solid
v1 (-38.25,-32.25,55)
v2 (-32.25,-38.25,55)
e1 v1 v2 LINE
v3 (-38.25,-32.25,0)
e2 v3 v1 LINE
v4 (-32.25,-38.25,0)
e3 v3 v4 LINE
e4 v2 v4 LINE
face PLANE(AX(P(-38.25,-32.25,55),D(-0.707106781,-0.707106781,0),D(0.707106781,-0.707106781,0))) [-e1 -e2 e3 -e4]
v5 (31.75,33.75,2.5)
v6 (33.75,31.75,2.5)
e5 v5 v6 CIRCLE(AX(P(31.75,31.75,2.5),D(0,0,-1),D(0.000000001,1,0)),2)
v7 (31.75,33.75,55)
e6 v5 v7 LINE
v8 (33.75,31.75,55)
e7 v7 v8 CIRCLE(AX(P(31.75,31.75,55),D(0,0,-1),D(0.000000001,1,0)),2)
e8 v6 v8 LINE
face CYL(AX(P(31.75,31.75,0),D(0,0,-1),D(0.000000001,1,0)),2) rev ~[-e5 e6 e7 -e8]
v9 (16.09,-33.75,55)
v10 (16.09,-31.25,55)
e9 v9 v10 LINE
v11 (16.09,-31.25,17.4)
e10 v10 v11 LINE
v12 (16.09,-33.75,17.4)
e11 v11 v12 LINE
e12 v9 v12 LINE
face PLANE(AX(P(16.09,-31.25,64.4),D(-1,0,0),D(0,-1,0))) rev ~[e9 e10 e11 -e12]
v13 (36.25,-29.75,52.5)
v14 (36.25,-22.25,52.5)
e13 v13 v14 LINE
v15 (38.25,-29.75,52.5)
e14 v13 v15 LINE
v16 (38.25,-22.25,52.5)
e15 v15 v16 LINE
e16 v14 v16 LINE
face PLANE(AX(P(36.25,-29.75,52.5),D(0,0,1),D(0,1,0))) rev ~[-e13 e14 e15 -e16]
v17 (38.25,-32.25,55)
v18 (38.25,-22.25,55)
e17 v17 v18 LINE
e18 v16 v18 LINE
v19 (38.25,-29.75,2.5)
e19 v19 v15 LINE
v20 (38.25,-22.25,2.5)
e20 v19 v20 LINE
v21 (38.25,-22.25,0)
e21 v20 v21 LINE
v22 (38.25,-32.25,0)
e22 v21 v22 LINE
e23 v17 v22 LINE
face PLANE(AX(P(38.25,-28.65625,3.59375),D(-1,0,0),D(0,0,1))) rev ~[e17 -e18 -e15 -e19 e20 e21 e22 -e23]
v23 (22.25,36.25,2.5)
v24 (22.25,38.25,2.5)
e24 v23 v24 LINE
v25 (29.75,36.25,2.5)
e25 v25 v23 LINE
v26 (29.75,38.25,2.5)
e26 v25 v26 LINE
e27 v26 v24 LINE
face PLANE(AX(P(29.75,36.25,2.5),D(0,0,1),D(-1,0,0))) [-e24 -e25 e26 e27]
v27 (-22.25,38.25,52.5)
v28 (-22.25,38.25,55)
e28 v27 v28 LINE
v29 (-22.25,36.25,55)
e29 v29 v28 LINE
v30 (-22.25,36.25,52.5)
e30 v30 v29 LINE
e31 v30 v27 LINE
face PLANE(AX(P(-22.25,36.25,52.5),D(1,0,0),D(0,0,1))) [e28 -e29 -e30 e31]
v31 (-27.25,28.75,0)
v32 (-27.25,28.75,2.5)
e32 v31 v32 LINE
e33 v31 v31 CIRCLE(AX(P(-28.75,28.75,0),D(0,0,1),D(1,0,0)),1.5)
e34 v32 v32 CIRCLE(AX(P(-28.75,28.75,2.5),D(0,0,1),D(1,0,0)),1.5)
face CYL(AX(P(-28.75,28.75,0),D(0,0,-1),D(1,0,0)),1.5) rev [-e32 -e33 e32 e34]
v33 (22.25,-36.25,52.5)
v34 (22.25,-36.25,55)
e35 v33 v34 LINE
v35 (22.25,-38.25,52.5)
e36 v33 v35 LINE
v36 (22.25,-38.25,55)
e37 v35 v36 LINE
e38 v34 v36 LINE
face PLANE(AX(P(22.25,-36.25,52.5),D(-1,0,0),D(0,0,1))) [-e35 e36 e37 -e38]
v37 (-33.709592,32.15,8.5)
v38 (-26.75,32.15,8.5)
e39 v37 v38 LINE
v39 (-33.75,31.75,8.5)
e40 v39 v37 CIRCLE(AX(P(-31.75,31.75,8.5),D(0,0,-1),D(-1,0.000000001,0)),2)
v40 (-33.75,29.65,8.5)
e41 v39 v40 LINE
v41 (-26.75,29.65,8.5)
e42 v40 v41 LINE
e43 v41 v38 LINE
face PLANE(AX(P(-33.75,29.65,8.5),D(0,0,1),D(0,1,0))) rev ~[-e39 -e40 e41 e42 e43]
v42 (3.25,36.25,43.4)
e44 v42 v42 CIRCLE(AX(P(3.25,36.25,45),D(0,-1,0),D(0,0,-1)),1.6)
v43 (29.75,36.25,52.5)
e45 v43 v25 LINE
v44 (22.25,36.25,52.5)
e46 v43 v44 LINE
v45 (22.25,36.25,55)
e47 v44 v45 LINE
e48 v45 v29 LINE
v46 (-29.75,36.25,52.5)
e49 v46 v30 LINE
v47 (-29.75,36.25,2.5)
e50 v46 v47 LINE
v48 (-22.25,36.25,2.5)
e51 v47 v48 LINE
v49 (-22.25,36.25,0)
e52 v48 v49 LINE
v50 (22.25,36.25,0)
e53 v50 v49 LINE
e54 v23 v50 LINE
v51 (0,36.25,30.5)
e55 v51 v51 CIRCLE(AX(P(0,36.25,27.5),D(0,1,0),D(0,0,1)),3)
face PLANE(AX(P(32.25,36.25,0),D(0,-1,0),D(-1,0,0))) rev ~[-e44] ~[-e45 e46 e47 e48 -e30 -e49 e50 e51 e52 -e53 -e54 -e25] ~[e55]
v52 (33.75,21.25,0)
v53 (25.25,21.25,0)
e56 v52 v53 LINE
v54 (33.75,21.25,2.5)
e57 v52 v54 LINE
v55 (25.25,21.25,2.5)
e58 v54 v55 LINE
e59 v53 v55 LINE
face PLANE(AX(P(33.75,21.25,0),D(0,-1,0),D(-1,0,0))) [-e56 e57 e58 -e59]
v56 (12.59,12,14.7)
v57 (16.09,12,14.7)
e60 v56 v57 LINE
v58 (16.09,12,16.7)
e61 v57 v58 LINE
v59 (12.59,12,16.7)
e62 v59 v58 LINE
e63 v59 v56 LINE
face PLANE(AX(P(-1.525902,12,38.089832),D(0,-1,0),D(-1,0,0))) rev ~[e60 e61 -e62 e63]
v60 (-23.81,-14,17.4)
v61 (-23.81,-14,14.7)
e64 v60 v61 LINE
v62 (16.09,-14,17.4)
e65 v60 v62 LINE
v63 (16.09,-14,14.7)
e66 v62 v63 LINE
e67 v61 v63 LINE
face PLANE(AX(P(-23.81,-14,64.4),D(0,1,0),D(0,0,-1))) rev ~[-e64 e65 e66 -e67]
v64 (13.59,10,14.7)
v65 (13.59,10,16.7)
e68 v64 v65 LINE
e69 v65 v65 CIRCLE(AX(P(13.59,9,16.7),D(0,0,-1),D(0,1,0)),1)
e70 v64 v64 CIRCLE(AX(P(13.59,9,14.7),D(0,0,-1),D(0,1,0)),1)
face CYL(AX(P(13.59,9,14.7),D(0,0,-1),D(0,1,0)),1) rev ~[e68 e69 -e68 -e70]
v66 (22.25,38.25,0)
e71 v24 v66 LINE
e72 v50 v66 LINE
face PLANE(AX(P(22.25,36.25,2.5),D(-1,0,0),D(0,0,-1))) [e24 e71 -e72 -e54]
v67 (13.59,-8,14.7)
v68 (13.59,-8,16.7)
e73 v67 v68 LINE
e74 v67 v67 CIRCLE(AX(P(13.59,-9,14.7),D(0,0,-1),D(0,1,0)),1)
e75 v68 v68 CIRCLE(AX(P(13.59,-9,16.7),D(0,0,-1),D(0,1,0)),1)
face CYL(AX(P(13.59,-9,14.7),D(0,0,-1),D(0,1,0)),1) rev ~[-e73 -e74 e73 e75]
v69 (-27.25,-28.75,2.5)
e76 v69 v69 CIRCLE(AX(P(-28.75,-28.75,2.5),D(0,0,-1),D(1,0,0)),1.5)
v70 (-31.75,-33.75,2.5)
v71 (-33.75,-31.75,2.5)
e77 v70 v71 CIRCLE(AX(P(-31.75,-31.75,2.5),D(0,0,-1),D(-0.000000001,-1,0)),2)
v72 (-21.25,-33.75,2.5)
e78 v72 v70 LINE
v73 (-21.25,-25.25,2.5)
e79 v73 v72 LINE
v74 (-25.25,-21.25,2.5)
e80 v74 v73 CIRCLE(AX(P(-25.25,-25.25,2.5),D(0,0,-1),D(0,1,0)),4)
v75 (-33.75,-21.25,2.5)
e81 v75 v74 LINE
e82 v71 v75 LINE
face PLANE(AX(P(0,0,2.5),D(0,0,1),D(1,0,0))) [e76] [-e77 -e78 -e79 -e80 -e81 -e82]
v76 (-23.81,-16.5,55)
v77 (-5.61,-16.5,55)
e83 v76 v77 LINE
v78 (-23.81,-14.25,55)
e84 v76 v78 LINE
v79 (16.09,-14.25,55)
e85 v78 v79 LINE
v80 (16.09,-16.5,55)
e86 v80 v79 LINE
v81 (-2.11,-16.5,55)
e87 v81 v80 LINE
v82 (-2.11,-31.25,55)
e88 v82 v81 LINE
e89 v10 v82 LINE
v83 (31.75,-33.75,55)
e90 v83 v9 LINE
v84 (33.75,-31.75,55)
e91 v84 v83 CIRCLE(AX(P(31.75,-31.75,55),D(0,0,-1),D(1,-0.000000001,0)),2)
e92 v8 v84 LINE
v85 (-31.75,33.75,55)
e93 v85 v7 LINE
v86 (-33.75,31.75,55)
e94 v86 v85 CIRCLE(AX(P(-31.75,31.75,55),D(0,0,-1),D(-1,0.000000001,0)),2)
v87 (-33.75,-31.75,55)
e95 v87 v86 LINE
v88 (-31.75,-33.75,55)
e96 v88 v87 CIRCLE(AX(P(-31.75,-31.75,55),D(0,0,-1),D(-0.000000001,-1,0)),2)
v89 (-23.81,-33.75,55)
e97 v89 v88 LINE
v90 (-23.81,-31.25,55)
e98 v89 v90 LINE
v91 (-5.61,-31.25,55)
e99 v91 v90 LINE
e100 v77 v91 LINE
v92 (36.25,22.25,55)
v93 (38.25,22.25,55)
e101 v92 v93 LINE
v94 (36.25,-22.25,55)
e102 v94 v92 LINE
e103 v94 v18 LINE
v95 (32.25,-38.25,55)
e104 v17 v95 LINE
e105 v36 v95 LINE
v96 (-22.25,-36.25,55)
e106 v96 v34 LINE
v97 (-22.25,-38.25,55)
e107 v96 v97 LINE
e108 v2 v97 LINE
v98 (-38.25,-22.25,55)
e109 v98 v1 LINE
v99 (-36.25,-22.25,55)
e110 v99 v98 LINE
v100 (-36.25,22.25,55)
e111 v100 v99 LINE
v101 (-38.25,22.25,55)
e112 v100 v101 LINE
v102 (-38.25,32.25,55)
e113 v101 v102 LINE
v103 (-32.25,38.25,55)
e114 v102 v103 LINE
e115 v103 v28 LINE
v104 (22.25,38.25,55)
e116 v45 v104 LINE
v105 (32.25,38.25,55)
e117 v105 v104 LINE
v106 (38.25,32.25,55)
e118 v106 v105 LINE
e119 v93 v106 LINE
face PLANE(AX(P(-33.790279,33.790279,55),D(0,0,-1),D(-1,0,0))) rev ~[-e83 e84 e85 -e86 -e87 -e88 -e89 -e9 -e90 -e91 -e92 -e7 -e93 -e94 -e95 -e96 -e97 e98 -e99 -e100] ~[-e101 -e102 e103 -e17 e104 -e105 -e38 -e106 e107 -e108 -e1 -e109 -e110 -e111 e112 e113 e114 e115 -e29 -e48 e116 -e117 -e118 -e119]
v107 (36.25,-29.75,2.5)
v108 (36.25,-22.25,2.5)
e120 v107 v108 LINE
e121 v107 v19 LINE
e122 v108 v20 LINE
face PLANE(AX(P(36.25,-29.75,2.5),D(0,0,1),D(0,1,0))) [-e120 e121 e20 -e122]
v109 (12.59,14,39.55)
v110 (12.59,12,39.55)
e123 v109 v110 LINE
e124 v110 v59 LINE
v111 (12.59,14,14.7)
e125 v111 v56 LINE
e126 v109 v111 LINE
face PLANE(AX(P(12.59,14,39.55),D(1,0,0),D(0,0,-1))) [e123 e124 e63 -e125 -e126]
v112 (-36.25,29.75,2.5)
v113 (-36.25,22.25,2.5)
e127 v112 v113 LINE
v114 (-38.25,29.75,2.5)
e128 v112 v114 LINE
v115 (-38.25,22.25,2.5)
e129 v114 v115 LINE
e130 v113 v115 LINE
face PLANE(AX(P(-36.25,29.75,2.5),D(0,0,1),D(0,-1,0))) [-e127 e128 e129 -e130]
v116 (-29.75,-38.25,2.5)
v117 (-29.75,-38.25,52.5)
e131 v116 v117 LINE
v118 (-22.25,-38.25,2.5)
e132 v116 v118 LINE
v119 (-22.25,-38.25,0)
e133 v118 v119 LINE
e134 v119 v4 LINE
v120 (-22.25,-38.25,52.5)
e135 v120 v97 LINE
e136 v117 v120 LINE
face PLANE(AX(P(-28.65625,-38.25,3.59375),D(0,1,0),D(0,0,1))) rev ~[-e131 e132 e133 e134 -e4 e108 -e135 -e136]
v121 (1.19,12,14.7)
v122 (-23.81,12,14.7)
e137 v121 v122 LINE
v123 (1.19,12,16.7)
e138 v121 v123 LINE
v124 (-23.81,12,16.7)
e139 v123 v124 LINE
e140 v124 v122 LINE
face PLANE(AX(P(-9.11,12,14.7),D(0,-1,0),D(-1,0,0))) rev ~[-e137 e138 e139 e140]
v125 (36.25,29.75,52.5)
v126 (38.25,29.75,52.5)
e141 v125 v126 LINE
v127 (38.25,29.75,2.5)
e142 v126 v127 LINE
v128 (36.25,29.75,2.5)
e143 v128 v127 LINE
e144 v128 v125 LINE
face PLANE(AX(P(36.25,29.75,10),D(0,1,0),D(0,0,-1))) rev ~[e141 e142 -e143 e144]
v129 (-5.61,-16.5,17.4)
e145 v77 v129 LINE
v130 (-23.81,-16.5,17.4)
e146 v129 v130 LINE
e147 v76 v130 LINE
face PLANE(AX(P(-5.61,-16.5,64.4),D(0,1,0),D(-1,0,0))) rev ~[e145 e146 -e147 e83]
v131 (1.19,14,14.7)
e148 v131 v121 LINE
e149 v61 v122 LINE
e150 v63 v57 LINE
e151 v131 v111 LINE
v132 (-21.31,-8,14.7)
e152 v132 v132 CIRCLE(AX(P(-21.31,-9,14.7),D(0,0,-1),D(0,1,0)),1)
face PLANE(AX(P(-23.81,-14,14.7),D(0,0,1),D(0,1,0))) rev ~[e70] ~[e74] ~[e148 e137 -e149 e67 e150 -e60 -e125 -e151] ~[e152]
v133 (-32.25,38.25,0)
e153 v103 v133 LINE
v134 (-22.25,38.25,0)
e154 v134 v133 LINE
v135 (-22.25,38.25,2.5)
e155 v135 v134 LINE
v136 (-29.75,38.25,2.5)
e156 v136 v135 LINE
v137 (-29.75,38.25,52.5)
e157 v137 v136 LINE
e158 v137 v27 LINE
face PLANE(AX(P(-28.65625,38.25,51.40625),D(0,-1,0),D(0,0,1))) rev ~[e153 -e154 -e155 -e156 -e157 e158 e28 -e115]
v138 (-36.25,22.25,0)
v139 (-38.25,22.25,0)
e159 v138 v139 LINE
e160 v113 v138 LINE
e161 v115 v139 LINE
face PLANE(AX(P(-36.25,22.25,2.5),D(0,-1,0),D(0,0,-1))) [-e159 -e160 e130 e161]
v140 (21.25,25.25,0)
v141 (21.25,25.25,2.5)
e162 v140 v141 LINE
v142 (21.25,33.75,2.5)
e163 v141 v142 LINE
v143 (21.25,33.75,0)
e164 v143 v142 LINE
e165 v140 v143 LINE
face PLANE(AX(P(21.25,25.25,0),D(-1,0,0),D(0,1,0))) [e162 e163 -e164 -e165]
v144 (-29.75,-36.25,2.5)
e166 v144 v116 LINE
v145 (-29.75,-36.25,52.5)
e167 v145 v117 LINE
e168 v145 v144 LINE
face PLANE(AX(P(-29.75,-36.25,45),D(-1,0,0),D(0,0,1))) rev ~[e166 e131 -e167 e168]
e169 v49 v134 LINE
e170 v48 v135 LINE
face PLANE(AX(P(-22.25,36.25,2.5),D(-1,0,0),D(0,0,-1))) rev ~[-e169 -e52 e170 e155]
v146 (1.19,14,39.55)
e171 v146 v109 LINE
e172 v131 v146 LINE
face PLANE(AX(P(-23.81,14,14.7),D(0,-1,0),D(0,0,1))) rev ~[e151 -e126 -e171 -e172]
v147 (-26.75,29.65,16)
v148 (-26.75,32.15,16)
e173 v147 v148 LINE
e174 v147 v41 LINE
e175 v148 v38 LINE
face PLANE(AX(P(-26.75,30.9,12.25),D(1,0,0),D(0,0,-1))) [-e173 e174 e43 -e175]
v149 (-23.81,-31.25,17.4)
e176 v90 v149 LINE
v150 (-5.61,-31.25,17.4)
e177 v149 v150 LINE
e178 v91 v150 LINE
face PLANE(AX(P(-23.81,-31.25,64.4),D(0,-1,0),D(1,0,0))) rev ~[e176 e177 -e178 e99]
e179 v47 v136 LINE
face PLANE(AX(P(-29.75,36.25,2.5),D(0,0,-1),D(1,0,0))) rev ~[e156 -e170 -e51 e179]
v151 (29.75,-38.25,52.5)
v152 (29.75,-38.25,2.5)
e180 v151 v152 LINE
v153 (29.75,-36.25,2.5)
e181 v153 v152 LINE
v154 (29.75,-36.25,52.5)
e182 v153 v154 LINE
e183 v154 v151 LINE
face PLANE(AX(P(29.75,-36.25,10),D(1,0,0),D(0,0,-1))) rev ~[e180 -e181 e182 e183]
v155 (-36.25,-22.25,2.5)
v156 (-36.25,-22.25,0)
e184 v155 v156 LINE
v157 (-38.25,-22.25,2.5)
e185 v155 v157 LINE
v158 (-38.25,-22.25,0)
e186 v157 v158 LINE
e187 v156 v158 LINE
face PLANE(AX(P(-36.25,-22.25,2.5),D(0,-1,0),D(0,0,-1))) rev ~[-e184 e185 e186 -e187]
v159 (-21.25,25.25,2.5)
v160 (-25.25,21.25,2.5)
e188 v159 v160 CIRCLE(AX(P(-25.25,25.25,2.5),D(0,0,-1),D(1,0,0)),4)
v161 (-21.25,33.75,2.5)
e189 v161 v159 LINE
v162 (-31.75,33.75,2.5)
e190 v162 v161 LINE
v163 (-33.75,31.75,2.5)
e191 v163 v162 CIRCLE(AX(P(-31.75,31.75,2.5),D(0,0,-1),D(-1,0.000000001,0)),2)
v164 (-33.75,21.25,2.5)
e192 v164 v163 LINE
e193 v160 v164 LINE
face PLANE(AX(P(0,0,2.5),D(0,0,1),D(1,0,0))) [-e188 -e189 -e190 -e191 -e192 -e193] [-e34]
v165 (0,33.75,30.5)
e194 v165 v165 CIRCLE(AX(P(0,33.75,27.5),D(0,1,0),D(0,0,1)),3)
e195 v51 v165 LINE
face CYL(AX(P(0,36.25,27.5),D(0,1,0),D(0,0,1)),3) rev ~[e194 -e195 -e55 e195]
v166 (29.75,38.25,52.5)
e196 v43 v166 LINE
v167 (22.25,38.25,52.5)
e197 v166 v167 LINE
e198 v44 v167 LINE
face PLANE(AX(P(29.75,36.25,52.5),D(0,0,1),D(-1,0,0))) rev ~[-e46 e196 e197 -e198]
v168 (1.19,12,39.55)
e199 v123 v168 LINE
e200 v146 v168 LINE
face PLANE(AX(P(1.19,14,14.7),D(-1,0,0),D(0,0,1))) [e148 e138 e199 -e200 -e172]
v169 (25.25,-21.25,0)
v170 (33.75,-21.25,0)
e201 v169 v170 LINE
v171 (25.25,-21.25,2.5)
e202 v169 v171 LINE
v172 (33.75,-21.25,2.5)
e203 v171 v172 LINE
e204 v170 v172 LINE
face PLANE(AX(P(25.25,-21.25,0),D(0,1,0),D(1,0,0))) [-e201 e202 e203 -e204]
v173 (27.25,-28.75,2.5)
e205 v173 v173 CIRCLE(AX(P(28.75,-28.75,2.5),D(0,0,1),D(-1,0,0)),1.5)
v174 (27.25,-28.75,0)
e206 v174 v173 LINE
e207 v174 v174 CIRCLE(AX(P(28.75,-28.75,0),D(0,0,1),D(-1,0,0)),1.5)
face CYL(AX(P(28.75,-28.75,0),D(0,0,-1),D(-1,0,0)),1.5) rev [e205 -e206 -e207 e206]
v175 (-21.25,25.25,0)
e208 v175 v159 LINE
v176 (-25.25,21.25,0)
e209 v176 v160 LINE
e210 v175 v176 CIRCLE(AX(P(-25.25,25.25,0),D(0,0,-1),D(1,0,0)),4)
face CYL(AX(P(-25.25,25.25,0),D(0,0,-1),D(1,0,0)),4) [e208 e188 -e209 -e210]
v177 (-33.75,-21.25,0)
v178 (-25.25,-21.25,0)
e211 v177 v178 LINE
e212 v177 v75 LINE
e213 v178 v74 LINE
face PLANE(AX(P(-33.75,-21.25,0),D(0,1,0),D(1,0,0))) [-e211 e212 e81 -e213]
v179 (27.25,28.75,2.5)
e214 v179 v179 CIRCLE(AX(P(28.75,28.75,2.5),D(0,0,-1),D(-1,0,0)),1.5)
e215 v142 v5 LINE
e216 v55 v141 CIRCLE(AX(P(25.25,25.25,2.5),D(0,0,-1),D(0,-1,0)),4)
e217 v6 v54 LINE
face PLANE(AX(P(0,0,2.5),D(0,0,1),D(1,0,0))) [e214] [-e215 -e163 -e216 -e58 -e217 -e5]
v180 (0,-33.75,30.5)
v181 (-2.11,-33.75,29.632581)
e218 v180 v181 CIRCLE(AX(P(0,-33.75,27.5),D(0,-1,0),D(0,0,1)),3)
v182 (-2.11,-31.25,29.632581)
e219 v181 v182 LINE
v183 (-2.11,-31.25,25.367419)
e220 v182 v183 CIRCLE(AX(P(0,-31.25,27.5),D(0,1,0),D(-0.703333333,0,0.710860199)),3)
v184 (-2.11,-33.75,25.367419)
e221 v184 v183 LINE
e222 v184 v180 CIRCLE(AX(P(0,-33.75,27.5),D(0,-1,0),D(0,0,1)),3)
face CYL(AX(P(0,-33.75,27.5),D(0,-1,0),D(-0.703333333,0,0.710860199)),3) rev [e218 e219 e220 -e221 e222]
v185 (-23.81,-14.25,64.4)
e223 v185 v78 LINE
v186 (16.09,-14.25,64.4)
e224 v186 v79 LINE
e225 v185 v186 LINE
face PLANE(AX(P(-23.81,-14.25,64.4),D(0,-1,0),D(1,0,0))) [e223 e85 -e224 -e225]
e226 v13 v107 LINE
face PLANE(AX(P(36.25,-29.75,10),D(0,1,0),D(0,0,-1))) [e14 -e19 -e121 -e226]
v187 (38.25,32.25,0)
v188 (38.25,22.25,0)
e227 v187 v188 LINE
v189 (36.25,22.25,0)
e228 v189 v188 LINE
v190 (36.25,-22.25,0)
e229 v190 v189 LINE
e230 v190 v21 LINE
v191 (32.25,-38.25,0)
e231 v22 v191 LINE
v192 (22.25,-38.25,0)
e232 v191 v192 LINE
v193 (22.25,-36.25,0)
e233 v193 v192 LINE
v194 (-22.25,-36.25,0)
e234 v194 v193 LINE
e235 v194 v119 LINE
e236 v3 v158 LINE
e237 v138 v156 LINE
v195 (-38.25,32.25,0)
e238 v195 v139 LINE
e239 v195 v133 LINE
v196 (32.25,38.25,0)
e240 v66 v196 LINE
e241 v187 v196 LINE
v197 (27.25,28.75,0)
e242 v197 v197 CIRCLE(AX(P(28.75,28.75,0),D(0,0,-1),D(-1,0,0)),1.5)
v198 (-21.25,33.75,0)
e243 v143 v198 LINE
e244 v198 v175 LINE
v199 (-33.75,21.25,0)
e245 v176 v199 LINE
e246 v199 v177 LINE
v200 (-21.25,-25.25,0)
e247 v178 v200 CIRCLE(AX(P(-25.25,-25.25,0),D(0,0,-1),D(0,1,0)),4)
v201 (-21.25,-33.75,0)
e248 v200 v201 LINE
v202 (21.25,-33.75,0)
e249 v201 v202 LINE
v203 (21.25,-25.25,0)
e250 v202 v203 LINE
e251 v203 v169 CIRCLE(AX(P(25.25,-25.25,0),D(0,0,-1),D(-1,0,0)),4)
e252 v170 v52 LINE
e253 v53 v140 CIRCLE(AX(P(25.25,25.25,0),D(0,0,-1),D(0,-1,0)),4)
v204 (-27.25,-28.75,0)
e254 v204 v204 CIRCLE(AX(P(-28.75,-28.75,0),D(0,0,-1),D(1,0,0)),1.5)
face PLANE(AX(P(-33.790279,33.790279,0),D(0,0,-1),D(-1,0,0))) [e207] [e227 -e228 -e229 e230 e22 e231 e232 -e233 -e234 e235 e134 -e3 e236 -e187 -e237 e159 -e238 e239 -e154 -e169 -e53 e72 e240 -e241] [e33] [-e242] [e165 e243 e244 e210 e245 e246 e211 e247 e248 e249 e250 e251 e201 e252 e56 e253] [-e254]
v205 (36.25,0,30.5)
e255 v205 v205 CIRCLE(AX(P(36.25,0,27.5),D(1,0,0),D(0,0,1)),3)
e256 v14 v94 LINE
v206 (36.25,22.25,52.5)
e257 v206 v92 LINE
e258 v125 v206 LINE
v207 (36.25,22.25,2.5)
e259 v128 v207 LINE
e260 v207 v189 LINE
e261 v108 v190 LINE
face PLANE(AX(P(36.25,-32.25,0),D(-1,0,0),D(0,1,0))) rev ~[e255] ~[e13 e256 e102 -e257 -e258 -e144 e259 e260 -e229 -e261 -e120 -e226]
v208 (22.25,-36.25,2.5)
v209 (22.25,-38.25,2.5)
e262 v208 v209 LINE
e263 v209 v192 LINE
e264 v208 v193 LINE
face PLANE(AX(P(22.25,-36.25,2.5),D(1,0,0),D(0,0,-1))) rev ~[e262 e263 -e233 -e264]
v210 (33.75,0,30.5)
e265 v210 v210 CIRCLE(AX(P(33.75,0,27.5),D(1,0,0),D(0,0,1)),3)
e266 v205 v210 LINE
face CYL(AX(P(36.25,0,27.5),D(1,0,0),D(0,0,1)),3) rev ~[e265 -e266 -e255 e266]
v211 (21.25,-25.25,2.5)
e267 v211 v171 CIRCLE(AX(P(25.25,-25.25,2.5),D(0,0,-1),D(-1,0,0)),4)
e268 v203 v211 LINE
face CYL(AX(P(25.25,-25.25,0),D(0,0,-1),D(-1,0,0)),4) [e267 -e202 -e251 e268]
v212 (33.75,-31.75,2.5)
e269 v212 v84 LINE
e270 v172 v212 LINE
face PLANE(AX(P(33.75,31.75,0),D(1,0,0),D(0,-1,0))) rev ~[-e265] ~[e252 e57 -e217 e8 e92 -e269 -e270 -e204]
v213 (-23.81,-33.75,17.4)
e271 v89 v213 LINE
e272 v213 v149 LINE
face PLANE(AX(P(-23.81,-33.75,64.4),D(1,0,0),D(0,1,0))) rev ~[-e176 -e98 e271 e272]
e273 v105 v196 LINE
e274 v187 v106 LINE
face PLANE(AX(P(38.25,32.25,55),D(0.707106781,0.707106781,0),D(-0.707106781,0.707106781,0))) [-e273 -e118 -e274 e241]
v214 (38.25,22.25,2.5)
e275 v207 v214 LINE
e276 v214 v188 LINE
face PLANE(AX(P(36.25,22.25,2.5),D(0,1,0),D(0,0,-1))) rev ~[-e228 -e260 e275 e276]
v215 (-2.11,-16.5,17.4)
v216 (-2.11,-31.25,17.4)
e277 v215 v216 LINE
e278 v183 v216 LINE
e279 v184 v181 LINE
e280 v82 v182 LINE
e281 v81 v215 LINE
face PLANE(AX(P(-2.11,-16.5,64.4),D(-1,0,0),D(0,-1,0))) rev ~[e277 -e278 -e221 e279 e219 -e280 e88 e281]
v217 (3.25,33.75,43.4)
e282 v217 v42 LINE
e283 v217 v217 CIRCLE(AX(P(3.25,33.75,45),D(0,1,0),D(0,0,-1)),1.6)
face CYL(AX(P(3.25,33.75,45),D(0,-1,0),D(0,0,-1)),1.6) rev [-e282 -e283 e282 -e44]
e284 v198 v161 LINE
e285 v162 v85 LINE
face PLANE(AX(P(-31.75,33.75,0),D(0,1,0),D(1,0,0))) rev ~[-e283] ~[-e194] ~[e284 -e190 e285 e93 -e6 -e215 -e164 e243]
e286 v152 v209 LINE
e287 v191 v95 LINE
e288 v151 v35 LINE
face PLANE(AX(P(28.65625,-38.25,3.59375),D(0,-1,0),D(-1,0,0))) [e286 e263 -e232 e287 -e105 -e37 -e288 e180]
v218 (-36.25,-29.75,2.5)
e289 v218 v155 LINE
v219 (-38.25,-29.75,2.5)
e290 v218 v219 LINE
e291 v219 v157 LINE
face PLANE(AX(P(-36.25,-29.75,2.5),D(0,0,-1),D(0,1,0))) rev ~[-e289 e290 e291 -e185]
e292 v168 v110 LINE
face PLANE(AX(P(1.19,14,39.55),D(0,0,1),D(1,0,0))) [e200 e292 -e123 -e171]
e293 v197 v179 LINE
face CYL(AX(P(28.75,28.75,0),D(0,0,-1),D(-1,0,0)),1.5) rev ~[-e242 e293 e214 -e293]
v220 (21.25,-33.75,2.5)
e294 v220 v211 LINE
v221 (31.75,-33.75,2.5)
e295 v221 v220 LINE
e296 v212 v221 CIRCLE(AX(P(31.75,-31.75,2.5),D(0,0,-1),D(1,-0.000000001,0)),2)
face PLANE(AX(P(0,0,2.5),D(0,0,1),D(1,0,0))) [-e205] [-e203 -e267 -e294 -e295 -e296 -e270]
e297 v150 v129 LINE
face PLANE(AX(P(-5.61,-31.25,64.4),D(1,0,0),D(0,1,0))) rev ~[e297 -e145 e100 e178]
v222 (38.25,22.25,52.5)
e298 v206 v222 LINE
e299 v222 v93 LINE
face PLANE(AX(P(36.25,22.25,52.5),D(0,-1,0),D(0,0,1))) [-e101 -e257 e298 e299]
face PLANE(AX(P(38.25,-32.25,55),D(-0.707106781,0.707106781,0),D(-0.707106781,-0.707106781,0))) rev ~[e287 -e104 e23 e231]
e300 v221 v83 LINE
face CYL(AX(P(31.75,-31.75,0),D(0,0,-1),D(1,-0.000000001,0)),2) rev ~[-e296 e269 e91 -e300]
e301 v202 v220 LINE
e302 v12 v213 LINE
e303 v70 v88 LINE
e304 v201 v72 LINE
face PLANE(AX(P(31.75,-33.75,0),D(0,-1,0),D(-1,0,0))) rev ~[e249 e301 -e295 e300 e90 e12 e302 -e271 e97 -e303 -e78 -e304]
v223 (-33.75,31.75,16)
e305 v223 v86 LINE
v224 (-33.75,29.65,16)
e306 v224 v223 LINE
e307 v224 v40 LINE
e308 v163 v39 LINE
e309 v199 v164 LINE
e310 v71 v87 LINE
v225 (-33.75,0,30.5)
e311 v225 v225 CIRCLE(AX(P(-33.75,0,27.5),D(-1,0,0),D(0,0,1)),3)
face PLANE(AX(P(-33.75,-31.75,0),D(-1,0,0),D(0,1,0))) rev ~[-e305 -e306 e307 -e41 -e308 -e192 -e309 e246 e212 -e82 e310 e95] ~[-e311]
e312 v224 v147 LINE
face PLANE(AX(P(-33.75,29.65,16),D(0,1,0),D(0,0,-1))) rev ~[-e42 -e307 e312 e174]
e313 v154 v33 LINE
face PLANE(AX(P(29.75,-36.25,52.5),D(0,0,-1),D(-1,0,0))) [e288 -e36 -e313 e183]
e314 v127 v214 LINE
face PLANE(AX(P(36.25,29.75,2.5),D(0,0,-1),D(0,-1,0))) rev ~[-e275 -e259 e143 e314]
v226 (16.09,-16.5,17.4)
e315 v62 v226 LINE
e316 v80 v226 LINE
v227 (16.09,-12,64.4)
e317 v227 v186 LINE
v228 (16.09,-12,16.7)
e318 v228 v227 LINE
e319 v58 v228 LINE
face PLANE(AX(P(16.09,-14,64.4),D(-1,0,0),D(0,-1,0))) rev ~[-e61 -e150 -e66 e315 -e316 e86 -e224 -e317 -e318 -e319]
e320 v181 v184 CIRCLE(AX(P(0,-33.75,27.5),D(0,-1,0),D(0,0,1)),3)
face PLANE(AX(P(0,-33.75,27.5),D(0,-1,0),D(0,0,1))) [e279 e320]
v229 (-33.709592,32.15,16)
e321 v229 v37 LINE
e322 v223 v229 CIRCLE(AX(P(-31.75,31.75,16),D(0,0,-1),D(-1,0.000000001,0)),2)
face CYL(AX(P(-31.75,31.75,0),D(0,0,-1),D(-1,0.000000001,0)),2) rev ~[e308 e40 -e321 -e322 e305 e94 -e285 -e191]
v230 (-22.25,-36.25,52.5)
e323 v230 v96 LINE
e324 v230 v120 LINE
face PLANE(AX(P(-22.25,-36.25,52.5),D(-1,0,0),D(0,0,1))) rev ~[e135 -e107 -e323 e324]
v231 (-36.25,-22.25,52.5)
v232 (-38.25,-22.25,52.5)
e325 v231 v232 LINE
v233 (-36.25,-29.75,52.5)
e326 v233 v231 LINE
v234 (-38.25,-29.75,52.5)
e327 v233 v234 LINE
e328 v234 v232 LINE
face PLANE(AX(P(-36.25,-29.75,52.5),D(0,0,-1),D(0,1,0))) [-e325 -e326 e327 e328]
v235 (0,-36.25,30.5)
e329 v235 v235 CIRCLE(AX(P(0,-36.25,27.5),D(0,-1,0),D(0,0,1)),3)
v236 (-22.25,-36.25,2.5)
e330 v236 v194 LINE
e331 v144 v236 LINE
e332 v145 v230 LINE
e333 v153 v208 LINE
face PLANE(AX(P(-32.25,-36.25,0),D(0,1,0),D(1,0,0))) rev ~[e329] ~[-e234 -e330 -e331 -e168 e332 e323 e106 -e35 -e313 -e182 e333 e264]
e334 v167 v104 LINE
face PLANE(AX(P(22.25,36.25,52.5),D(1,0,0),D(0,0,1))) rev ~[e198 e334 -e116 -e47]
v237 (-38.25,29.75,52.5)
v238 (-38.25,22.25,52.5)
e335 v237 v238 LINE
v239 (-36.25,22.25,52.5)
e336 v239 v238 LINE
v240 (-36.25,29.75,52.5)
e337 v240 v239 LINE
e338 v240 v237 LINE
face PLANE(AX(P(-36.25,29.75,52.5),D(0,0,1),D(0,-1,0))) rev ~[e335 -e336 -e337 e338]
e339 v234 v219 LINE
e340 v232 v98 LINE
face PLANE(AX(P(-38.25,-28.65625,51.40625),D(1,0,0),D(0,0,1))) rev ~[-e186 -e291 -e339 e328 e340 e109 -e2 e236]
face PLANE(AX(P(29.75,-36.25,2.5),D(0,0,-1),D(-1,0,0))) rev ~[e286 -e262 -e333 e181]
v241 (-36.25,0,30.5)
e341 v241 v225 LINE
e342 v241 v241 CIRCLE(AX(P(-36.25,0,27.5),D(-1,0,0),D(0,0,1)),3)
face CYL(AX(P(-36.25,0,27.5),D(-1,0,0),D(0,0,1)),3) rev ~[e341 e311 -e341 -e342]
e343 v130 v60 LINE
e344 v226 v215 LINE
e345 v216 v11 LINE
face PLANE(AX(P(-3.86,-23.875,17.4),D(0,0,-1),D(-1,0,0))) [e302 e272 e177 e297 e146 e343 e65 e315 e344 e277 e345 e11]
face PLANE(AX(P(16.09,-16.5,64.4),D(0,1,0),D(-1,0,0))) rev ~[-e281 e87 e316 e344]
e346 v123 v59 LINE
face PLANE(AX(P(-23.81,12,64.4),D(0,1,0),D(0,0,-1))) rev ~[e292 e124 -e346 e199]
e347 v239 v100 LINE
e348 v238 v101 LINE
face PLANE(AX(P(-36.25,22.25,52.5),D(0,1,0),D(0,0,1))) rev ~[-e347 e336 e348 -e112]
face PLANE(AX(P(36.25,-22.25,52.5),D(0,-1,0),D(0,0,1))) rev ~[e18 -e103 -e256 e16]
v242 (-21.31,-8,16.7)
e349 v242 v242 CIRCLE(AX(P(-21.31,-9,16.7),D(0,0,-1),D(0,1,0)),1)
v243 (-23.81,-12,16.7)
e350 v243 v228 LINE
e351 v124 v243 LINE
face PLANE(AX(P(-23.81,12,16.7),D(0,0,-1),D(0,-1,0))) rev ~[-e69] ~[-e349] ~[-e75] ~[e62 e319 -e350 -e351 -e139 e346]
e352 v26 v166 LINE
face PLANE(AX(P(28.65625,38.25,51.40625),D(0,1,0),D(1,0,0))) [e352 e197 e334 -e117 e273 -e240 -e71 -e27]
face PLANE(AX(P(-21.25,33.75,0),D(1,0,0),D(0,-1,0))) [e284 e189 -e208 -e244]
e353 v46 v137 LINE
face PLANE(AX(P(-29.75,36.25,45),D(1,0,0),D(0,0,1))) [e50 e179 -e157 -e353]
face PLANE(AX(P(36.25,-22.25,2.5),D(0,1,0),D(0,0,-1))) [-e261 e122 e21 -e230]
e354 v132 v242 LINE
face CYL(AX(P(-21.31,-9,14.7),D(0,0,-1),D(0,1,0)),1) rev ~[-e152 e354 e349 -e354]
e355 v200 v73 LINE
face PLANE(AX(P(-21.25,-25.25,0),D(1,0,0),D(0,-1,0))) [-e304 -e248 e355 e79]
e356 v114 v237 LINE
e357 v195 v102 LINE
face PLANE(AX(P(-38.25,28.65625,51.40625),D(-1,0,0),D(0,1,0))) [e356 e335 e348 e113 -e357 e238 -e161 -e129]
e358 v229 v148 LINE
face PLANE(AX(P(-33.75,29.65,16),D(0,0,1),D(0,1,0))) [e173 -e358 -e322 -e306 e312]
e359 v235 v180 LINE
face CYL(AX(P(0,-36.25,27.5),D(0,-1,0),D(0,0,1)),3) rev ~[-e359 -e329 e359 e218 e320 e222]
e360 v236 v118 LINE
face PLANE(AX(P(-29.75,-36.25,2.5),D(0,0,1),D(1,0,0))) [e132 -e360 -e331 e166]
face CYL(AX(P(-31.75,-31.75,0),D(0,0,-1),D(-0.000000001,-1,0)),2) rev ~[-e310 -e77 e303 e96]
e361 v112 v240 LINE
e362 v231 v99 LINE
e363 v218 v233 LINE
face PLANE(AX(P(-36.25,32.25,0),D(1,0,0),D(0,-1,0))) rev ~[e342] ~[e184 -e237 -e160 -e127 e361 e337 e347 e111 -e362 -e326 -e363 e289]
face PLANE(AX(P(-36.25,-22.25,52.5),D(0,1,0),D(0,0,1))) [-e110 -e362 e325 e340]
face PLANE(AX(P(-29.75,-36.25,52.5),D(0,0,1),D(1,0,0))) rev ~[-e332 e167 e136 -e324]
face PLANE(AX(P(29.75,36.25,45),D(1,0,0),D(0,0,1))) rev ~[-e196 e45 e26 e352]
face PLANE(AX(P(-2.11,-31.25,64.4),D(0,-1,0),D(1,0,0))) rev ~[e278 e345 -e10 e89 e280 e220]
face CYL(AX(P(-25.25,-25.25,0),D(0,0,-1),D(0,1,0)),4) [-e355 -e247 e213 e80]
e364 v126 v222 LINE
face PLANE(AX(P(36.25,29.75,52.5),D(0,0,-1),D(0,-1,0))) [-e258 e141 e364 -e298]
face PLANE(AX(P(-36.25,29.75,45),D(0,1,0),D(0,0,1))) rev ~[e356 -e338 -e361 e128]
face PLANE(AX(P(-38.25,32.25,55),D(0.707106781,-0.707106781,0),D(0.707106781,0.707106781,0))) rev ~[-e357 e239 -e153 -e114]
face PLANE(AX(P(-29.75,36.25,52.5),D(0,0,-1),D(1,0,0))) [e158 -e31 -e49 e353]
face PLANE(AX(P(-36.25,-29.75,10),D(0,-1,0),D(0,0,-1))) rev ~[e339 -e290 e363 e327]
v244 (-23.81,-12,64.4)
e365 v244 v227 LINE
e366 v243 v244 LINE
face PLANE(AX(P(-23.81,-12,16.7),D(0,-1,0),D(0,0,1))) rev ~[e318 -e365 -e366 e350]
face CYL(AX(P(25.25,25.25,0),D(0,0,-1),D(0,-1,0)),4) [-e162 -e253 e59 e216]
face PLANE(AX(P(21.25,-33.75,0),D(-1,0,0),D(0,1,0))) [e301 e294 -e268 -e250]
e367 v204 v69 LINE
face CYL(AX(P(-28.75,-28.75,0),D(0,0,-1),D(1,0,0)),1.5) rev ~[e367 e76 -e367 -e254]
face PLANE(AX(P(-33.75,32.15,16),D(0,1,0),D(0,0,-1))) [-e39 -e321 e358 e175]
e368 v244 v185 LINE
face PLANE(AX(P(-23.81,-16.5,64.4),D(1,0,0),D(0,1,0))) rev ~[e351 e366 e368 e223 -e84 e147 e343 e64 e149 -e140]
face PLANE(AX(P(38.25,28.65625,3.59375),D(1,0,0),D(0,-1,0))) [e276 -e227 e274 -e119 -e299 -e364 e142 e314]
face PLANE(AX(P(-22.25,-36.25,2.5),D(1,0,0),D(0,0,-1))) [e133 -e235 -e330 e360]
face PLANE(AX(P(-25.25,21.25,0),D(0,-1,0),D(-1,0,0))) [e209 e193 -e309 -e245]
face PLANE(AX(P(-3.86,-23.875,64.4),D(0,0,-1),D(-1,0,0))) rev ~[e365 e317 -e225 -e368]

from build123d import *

# Parameters (mm, degrees)
BOSS_EXTRUDE1_DEPTH            = 55
SKETCH2_W                      = 67.5
SKETCH2_H                      = 67.5
BOSS_EXTRUDE2_DEPTH            = 2.5
CUT_EXTRUDE1_REACH             = 75.378
SKETCH3_W                      = 16.5
SKETCH3_H                      = 7
SKETCH3_W_2                    = 8
SKETCH3_H_2                    = 16
FILLET1_R                      = 1
CUT_EXTRUDE2_REACH             = 77.187
SKETCH4_R                      = 1.5
MIRROR2_COPY_1_REACH           = 77.187
MIRROR2_COPY_1_SKETCH_R        = 1.5
BOSS_EXTRUDE3_DEPTH            = 16.09
BOSS_EXTRUDE3_DEPTH_BACK       = 23.81
BOSS_EXTRUDE4_DEPTH            = 47
SKETCH7_W                      = 39.9
SKETCH7_H                      = 19.5
CUT_EXTRUDE3_DEPTH             = 9.4
BOSS_EXTRUDE7_DEPTH            = 2
CUT_EXTRUDE6_REACH             = 85.213
CUT_EXTRUDE6_DIRECTION_2_DEPTH = 84.213490493
CUT_EXTRUDE7_REACH             = 74.438
SKETCH14_W                     = 14.7
SKETCH14_H                     = 2
CUT_EXTRUDE8_DEPTH             = 104.526192338
CUT_EXTRUDE8_DEPTH_BACK        = 2.5
SKETCH15_R                     = 1.6
SKETCH16_W                     = 7.5
SKETCH16_H                     = 2.5
BOSS_EXTRUDE8_DEPTH            = 7
CUT_EXTRUDE5_DEPTH             = 2
CUT_EXTRUDE9_REACH             = 74.438
SKETCH17_R                     = 1
SKETCH19_R                     = 3
CUT_EXTRUDE10_DEPTH            = 2.5
BOSS_EXTRUDE9_DEPTH            = 2
CIRPATTERN1_COUNT              = 4
CIRPATTERN2_COUNT              = 4
CUT_EXTRUDE11_DEPTH            = 2.5
BOSS_EXTRUDE12_DEPTH           = 55


with BuildPart() as part:
    # Sketch1 → Boss-Extrude1 (new body)
    with BuildSketch(Plane.XY):
        with BuildLine():
            Line((-36.25, 32.25), (-36.25, -32.25))
            ThreePointArc((-36.25, -32.25), (-35.078427125, -35.078427125), (-32.25, -36.25))
            Line((-32.25, -36.25), (32.25, -36.25))
            ThreePointArc((32.25, -36.25), (35.078427125, -35.078427125), (36.25, -32.25))
            Line((36.25, -32.25), (36.25, 32.25))
            ThreePointArc((36.25, 32.25), (35.078427125, 35.078427125), (32.25, 36.25))
            Line((32.25, 36.25), (-32.25, 36.25))
            ThreePointArc((-32.25, 36.25), (-35.078427125, 35.078427125), (-36.25, 32.25))
        make_face()
        with BuildLine():
            Line((-31.75, 33.75), (31.75, 33.75))
            ThreePointArc((31.75, 33.75), (33.164213562, 33.164213562), (33.75, 31.75))
            Line((33.75, 31.75), (33.75, -31.75))
            ThreePointArc((33.75, -31.75), (33.164213562, -33.164213562), (31.75, -33.75))
            Line((31.75, -33.75), (-31.75, -33.75))
            ThreePointArc((-31.75, -33.75), (-33.164213562, -33.164213562), (-33.75, -31.75))
            Line((-33.75, -31.75), (-33.75, 31.75))
            ThreePointArc((-33.75, 31.75), (-33.164213562, 33.164213562), (-31.75, 33.75))
        make_face(mode=Mode.SUBTRACT)
    extrude(amount=BOSS_EXTRUDE1_DEPTH)

    # Sketch2 → Boss-Extrude2 (add)
    with BuildSketch(Plane.XY):
        Rectangle(SKETCH2_W, SKETCH2_H)
    extrude(amount=BOSS_EXTRUDE2_DEPTH)

    # Sketch3 → Cut-Extrude1 (cut, up to next)
    with BuildSketch(Plane.XY.offset(2.5), mode=Mode.PRIVATE) as cut_extrude1_sk1:
        with Locations((-11.63, 14.79)):
            Rectangle(SKETCH3_W, SKETCH3_H)
    cut_extrude1_tool1 = extrude(cut_extrude1_sk1.sketch, amount=-CUT_EXTRUDE1_REACH, mode=Mode.PRIVATE) & part.part
    # Sketch3 → Cut-Extrude1 (cut, up to next)
    with BuildSketch(Plane.XY.offset(2.5), mode=Mode.PRIVATE) as cut_extrude1_sk2:
        Rectangle(SKETCH3_W_2, SKETCH3_H_2)
    cut_extrude1_tool2 = extrude(cut_extrude1_sk2.sketch, amount=-CUT_EXTRUDE1_REACH, mode=Mode.PRIVATE) & part.part
    add(cut_extrude1_tool1.solids().sort_by_distance((-11.63, 14.79, 2.5))[0], mode=Mode.SUBTRACT)
    add(cut_extrude1_tool2.solids().sort_by_distance((0, 0, 2.5))[0], mode=Mode.SUBTRACT)

    # Fillet1
    fillet1_edges = [part.edges().sort_by_distance(p)[0] for p in [
        (-19.88, 11.29, 1.25),
        (-19.88, 18.29, 1.25),
        (-3.38, 18.29, 1.25),
        (-3.38, 11.29, 1.25),
        (4, -8, 1.25),
        (-4, -8, 1.25),
        (-4, 8, 1.25),
        (4, 8, 1.25),
    ]]
    fillet(fillet1_edges, radius=FILLET1_R)

    # Sketch4 → Cut-Extrude2 (cut, up to next)
    with BuildSketch(Plane(origin=(0, 0, 0), x_dir=(-1, 0, 0), z_dir=(0, 0, -1)), mode=Mode.PRIVATE) as cut_extrude2_sk1:
        with Locations((-28.75, 28.75)):
            Circle(SKETCH4_R)
    cut_extrude2_tool1 = extrude(cut_extrude2_sk1.sketch, amount=-CUT_EXTRUDE2_REACH, mode=Mode.PRIVATE) & part.part
    cut_extrude2 = cut_extrude2_tool1.solids().sort_by_distance((28.75, 28.75, 0))[0]
    add(cut_extrude2, mode=Mode.SUBTRACT)

    # Mirror1: Cut-Extrude2 across plane
    add(cut_extrude2.mirror(Plane(origin=(0, 0, 0), x_dir=(0, 0, 1), z_dir=(1, 0, 0))), mode=Mode.SUBTRACT)

    # Mirror2: Cut-Extrude2 across plane
    add(cut_extrude2.mirror(Plane.ZX), mode=Mode.SUBTRACT)

    # Mirror2 copy 1 sketch → Mirror2 copy 1 (cut, up to next)
    with BuildSketch(Plane(origin=(0, 0, 0), x_dir=(1, 0, 0), z_dir=(0, 0, -1)), mode=Mode.PRIVATE) as mirror2_copy_1_sk1:
        with Locations((-28.75, 28.75)):
            Circle(MIRROR2_COPY_1_SKETCH_R)
    mirror2_copy_1_tool1 = extrude(mirror2_copy_1_sk1.sketch, amount=-MIRROR2_COPY_1_REACH, mode=Mode.PRIVATE) & part.part
    add(mirror2_copy_1_tool1.solids().sort_by_distance((-28.75, -28.75, 0))[0], mode=Mode.SUBTRACT)



with BuildPart() as body_2:
    # Sketch5 → Boss-Extrude3 (new, two sides: drawn at the far end of the back side and taken through both)
    with BuildSketch(Plane(origin=(0, 0, 0), x_dir=(0, 0, -1), z_dir=(1, 0, 0)).offset(-BOSS_EXTRUDE3_DEPTH_BACK)):
        Polygon((-14.7, 14), (-64.4, 14), (-64.4, 12), (-62.4, 12), (-16.7, 12), (-16.7, -12), (-62.4, -12), (-64.4, -12), (-64.4, -14), (-14.7, -14), align=None)
    extrude(amount=BOSS_EXTRUDE3_DEPTH + BOSS_EXTRUDE3_DEPTH_BACK)


with BuildPart() as part_1:
    add(part.part)

    add(body_2.part)  # Boss-Extrude4 merges body 2
    # Sketch6 → Boss-Extrude4 (add)
    with BuildSketch(Plane.XY.offset(64.4)):
        Polygon((-23.81, -14), (16.09, -14), (16.09, -16.5), (-2.11, -16.5), (-2.11, -31.25), (16.09, -31.25), (16.09, -33.75), (-23.81, -33.75), (-23.81, -31.25), (-5.61, -31.25), (-5.61, -16.5), (-23.81, -16.5), align=None)
    extrude(amount=-BOSS_EXTRUDE4_DEPTH)

    # Sketch7 → Cut-Extrude3 (cut)
    with BuildSketch(Plane.XY.offset(64.4)):
        with Locations((-3.86, -24)):
            Rectangle(SKETCH7_W, SKETCH7_H)
    extrude(amount=-CUT_EXTRUDE3_DEPTH, mode=Mode.SUBTRACT)

    # Sketch12 → Boss-Extrude7 (add)
    with BuildSketch(Plane(origin=(0, 36.25, 0), x_dir=(1, 0, 0), z_dir=(0, 1, 0))):
        Polygon((29.75, -55), (32.25, -55), (32.25, -52.5), (32.25, -45), (29.75, -45), (29.75, -52.5), (22.25, -52.5), (22.25, -55), align=None)
        Polygon((-32.25, 0), (-32.25, -10), (-29.75, -10), (-29.75, -2.5), (-22.25, -2.5), (-22.25, 0), align=None)
    boss_extrude7 = extrude(amount=BOSS_EXTRUDE7_DEPTH)

    # Sketch13 → Cut-Extrude6 (cut, up to next)
    with BuildSketch(Plane(origin=(0, 0, 0), x_dir=(-1, 0, 0), z_dir=(0, 0, -1)), mode=Mode.PRIVATE) as cut_extrude6_sk1:
        with BuildLine():
            Line((-33.75, 21.25), (-25.25, 21.25))
            ThreePointArc((-25.25, 21.25), (-22.421572875, 22.421572875), (-21.25, 25.25))
            Line((-21.25, 25.25), (-21.25, 33.75))
            Line((-21.25, 33.75), (21.25, 33.75))
            Line((21.25, 33.75), (21.25, 25.25))
            ThreePointArc((21.25, 25.25), (22.421572875, 22.421572875), (25.25, 21.25))
            Line((25.25, 21.25), (33.75, 21.25))
            Line((33.75, 21.25), (33.75, -21.25))
            Line((33.75, -21.25), (25.25, -21.25))
            ThreePointArc((25.25, -21.25), (22.421572875, -22.421572875), (21.25, -25.25))
            Line((21.25, -25.25), (21.25, -33.75))
            Line((21.25, -33.75), (-21.25, -33.75))
            Line((-21.25, -33.75), (-21.25, -25.25))
            ThreePointArc((-21.25, -25.25), (-22.421572875, -22.421572875), (-25.25, -21.25))
            Line((-25.25, -21.25), (-33.75, -21.25))
            Line((-33.75, -21.25), (-33.75, 21.25))
        make_face()
    cut_extrude6_tool1 = extrude(cut_extrude6_sk1.sketch, amount=-CUT_EXTRUDE6_REACH, mode=Mode.PRIVATE) & part_1.part
    add(cut_extrude6_tool1.solids().sort_by_distance((0, 0, 0))[0], mode=Mode.SUBTRACT)

    # Sketch13 → Cut-Extrude6 direction 2 (cut)
    with BuildSketch(Plane(origin=(0, 0, 0), x_dir=(-1, 0, 0), z_dir=(0, 0, -1))):
        with BuildLine():
            Line((-33.75, 21.25), (-25.25, 21.25))
            ThreePointArc((-25.25, 21.25), (-22.421572875, 22.421572875), (-21.25, 25.25))
            Line((-21.25, 25.25), (-21.25, 33.75))
            Line((-21.25, 33.75), (21.25, 33.75))
            Line((21.25, 33.75), (21.25, 25.25))
            ThreePointArc((21.25, 25.25), (22.421572875, 22.421572875), (25.25, 21.25))
            Line((25.25, 21.25), (33.75, 21.25))
            Line((33.75, 21.25), (33.75, -21.25))
            Line((33.75, -21.25), (25.25, -21.25))
            ThreePointArc((25.25, -21.25), (22.421572875, -22.421572875), (21.25, -25.25))
            Line((21.25, -25.25), (21.25, -33.75))
            Line((21.25, -33.75), (-21.25, -33.75))
            Line((-21.25, -33.75), (-21.25, -25.25))
            ThreePointArc((-21.25, -25.25), (-22.421572875, -22.421572875), (-25.25, -21.25))
            Line((-25.25, -21.25), (-33.75, -21.25))
            Line((-33.75, -21.25), (-33.75, 21.25))
        make_face()
    extrude(amount=CUT_EXTRUDE6_DIRECTION_2_DEPTH, mode=Mode.SUBTRACT)

    # Sketch14 → Cut-Extrude7 (cut, up to next)
    with BuildSketch(Plane(origin=(0, 0, 14.7), x_dir=(-1, 0, 0), z_dir=(0, 0, -1)), mode=Mode.PRIVATE) as cut_extrude7_sk1:
        with Locations((16.46, 13)):
            Rectangle(SKETCH14_W, SKETCH14_H)
    cut_extrude7_tool1 = extrude(cut_extrude7_sk1.sketch, amount=-CUT_EXTRUDE7_REACH, mode=Mode.PRIVATE) & part_1.part
    add(cut_extrude7_tool1.solids().sort_by_distance((-16.46, 13, 14.7))[0], mode=Mode.SUBTRACT)

    # Sketch15 → Cut-Extrude8 (cut, two sides: drawn at the far end of the back side and taken through both)
    with BuildSketch(Plane(origin=(0, 36.25, 0), x_dir=(1, 0, 0), z_dir=(0, 1, 0)).offset(-CUT_EXTRUDE8_DEPTH_BACK)):
        with Locations(Location((3.25, -45, 0), (0, 0, 90))):
            Circle(SKETCH15_R)
    extrude(amount=CUT_EXTRUDE8_DEPTH + CUT_EXTRUDE8_DEPTH_BACK, mode=Mode.SUBTRACT)

    # Sketch16 → Boss-Extrude8 (add)
    with BuildSketch(Plane(origin=(-33.75, 0, 0), x_dir=(0, 0, -1), z_dir=(1, 0, 0))):
        with Locations((-12.25, 30.9)):
            Rectangle(SKETCH16_W, SKETCH16_H)
    extrude(amount=BOSS_EXTRUDE8_DEPTH)

    # Sketch11 → Cut-Extrude5 (cut)
    with BuildSketch(Plane(origin=(0, 14, 0), x_dir=(1, 0, 0), z_dir=(0, 1, 0))):
        Polygon((1.19, -39.55), (12.59, -39.55), (12.59, -14.7), (16.09, -14.7), (16.09, -64.4), (12.59, -64.4), (1.19, -64.4), (-23.81, -64.4), (-23.81, -14.7), (1.19, -14.7), align=None)
    extrude(amount=-CUT_EXTRUDE5_DEPTH, mode=Mode.SUBTRACT)

    # Sketch17 → Cut-Extrude9 (cut, up to next)
    with BuildSketch(Plane(origin=(0, 0, 14.7), x_dir=(-1, 0, 0), z_dir=(0, 0, -1)), mode=Mode.PRIVATE) as cut_extrude9_sk1:
        with Locations(Location((-13.59, 9, 0), (0, 0, 90))):
            Circle(SKETCH17_R)
    cut_extrude9_tool1 = extrude(cut_extrude9_sk1.sketch, amount=-CUT_EXTRUDE9_REACH, mode=Mode.PRIVATE) & part_1.part
    # Sketch17 → Cut-Extrude9 (cut, up to next)
    with BuildSketch(Plane(origin=(0, 0, 14.7), x_dir=(-1, 0, 0), z_dir=(0, 0, -1)), mode=Mode.PRIVATE) as cut_extrude9_sk2:
        with Locations(Location((-13.59, -9, 0), (0, 0, 90))):
            Circle(SKETCH17_R)
    cut_extrude9_tool2 = extrude(cut_extrude9_sk2.sketch, amount=-CUT_EXTRUDE9_REACH, mode=Mode.PRIVATE) & part_1.part
    # Sketch17 → Cut-Extrude9 (cut, up to next)
    with BuildSketch(Plane(origin=(0, 0, 14.7), x_dir=(-1, 0, 0), z_dir=(0, 0, -1)), mode=Mode.PRIVATE) as cut_extrude9_sk3:
        with Locations(Location((21.31, -9, 0), (0, 0, 90))):
            Circle(SKETCH17_R)
    cut_extrude9_tool3 = extrude(cut_extrude9_sk3.sketch, amount=-CUT_EXTRUDE9_REACH, mode=Mode.PRIVATE) & part_1.part
    add(cut_extrude9_tool1.solids().sort_by_distance((13.59, 9, 14.7))[0], mode=Mode.SUBTRACT)
    add(cut_extrude9_tool2.solids().sort_by_distance((13.59, -9, 14.7))[0], mode=Mode.SUBTRACT)
    add(cut_extrude9_tool3.solids().sort_by_distance((-21.31, -9, 14.7))[0], mode=Mode.SUBTRACT)

    # Sketch19 → Cut-Extrude10 (cut)
    with BuildSketch(Plane(origin=(0, 36.25, 0), x_dir=(1, 0, 0), z_dir=(0, 1, 0))):
        with Locations(Location((0, -27.5, 0), (0, 0, 270))):
            Circle(SKETCH19_R)
    cut_extrude10 = extrude(amount=-CUT_EXTRUDE10_DEPTH, mode=Mode.SUBTRACT)

    # Sketch20 → Boss-Extrude9 (add)
    with BuildSketch(Plane(origin=(36.25, 0, -36.25), x_dir=(0, 0, 1), z_dir=(-1, 0, 0))):
        Polygon((91.25, 32.25), (81.25, 32.25), (81.25, 29.75), (88.75, 29.75), (88.75, 22.25), (91.25, 22.25), align=None)
        Polygon((36.25, -22.25), (36.25, -32.25), (46.25, -32.25), (46.25, -29.75), (38.75, -29.75), (38.75, -22.25), align=None)
    boss_extrude9 = extrude(amount=-BOSS_EXTRUDE9_DEPTH)

    # CirPattern1: Boss-Extrude7, Cut-Extrude10 ×4 about axis
    cirpattern1_axis = Axis((0, 0, 0), (0, 0, 1))
    add([boss_extrude7.rotate(cirpattern1_axis, i * 360 / CIRPATTERN1_COUNT) for i in range(1, CIRPATTERN1_COUNT)])
    add([cut_extrude10.rotate(cirpattern1_axis, i * 360 / CIRPATTERN1_COUNT) for i in range(1, CIRPATTERN1_COUNT)], mode=Mode.SUBTRACT)

    # CirPattern2: Boss-Extrude9 ×4 about axis
    cirpattern2_axis = Axis((0, 0, 0), (0, 0, 1))
    for i in range(1, CIRPATTERN2_COUNT):
        add(boss_extrude9.rotate(cirpattern2_axis, i * 360 / CIRPATTERN2_COUNT))

    # Sketch21 → Cut-Extrude11 (cut)
    with BuildSketch(Plane.XZ.offset(33.75)):
        with BuildLine():
            Line((-2.11, 25.367419404), (-2.11, 29.632580596))
            ThreePointArc((-2.11, 29.632580596), (3, 27.5), (-2.11, 25.367419404))
        make_face()
    extrude(amount=-CUT_EXTRUDE11_DEPTH, mode=Mode.SUBTRACT)

    # Sketch22 → Boss-Extrude12 (add, through all)
    with BuildSketch(Plane.XY.offset(55)):
        Polygon((-38.25, 32.25), (-32.25, 38.25), (-29.75, 38.25), (-29.75, 33.75), (-33.75, 33.75), (-33.75, 29.75), (-38.25, 29.75), align=None)
        Polygon((33.75, 33.75), (33.75, 29.75), (38.25, 29.75), (38.25, 32.25), (32.25, 38.25), (29.75, 38.25), (29.75, 33.75), align=None)
        Polygon((38.25, -32.25), (32.25, -38.25), (29.75, -38.25), (29.75, -33.75), (33.75, -33.75), (33.75, -29.75), (38.25, -29.75), align=None)
        Polygon((-33.75, -33.75), (-33.75, -29.75), (-38.25, -29.75), (-38.25, -32.25), (-32.25, -38.25), (-29.75, -38.25), (-29.75, -33.75), align=None)
    extrude(amount=-BOSS_EXTRUDE12_DEPTH)


solid = part_1.part
